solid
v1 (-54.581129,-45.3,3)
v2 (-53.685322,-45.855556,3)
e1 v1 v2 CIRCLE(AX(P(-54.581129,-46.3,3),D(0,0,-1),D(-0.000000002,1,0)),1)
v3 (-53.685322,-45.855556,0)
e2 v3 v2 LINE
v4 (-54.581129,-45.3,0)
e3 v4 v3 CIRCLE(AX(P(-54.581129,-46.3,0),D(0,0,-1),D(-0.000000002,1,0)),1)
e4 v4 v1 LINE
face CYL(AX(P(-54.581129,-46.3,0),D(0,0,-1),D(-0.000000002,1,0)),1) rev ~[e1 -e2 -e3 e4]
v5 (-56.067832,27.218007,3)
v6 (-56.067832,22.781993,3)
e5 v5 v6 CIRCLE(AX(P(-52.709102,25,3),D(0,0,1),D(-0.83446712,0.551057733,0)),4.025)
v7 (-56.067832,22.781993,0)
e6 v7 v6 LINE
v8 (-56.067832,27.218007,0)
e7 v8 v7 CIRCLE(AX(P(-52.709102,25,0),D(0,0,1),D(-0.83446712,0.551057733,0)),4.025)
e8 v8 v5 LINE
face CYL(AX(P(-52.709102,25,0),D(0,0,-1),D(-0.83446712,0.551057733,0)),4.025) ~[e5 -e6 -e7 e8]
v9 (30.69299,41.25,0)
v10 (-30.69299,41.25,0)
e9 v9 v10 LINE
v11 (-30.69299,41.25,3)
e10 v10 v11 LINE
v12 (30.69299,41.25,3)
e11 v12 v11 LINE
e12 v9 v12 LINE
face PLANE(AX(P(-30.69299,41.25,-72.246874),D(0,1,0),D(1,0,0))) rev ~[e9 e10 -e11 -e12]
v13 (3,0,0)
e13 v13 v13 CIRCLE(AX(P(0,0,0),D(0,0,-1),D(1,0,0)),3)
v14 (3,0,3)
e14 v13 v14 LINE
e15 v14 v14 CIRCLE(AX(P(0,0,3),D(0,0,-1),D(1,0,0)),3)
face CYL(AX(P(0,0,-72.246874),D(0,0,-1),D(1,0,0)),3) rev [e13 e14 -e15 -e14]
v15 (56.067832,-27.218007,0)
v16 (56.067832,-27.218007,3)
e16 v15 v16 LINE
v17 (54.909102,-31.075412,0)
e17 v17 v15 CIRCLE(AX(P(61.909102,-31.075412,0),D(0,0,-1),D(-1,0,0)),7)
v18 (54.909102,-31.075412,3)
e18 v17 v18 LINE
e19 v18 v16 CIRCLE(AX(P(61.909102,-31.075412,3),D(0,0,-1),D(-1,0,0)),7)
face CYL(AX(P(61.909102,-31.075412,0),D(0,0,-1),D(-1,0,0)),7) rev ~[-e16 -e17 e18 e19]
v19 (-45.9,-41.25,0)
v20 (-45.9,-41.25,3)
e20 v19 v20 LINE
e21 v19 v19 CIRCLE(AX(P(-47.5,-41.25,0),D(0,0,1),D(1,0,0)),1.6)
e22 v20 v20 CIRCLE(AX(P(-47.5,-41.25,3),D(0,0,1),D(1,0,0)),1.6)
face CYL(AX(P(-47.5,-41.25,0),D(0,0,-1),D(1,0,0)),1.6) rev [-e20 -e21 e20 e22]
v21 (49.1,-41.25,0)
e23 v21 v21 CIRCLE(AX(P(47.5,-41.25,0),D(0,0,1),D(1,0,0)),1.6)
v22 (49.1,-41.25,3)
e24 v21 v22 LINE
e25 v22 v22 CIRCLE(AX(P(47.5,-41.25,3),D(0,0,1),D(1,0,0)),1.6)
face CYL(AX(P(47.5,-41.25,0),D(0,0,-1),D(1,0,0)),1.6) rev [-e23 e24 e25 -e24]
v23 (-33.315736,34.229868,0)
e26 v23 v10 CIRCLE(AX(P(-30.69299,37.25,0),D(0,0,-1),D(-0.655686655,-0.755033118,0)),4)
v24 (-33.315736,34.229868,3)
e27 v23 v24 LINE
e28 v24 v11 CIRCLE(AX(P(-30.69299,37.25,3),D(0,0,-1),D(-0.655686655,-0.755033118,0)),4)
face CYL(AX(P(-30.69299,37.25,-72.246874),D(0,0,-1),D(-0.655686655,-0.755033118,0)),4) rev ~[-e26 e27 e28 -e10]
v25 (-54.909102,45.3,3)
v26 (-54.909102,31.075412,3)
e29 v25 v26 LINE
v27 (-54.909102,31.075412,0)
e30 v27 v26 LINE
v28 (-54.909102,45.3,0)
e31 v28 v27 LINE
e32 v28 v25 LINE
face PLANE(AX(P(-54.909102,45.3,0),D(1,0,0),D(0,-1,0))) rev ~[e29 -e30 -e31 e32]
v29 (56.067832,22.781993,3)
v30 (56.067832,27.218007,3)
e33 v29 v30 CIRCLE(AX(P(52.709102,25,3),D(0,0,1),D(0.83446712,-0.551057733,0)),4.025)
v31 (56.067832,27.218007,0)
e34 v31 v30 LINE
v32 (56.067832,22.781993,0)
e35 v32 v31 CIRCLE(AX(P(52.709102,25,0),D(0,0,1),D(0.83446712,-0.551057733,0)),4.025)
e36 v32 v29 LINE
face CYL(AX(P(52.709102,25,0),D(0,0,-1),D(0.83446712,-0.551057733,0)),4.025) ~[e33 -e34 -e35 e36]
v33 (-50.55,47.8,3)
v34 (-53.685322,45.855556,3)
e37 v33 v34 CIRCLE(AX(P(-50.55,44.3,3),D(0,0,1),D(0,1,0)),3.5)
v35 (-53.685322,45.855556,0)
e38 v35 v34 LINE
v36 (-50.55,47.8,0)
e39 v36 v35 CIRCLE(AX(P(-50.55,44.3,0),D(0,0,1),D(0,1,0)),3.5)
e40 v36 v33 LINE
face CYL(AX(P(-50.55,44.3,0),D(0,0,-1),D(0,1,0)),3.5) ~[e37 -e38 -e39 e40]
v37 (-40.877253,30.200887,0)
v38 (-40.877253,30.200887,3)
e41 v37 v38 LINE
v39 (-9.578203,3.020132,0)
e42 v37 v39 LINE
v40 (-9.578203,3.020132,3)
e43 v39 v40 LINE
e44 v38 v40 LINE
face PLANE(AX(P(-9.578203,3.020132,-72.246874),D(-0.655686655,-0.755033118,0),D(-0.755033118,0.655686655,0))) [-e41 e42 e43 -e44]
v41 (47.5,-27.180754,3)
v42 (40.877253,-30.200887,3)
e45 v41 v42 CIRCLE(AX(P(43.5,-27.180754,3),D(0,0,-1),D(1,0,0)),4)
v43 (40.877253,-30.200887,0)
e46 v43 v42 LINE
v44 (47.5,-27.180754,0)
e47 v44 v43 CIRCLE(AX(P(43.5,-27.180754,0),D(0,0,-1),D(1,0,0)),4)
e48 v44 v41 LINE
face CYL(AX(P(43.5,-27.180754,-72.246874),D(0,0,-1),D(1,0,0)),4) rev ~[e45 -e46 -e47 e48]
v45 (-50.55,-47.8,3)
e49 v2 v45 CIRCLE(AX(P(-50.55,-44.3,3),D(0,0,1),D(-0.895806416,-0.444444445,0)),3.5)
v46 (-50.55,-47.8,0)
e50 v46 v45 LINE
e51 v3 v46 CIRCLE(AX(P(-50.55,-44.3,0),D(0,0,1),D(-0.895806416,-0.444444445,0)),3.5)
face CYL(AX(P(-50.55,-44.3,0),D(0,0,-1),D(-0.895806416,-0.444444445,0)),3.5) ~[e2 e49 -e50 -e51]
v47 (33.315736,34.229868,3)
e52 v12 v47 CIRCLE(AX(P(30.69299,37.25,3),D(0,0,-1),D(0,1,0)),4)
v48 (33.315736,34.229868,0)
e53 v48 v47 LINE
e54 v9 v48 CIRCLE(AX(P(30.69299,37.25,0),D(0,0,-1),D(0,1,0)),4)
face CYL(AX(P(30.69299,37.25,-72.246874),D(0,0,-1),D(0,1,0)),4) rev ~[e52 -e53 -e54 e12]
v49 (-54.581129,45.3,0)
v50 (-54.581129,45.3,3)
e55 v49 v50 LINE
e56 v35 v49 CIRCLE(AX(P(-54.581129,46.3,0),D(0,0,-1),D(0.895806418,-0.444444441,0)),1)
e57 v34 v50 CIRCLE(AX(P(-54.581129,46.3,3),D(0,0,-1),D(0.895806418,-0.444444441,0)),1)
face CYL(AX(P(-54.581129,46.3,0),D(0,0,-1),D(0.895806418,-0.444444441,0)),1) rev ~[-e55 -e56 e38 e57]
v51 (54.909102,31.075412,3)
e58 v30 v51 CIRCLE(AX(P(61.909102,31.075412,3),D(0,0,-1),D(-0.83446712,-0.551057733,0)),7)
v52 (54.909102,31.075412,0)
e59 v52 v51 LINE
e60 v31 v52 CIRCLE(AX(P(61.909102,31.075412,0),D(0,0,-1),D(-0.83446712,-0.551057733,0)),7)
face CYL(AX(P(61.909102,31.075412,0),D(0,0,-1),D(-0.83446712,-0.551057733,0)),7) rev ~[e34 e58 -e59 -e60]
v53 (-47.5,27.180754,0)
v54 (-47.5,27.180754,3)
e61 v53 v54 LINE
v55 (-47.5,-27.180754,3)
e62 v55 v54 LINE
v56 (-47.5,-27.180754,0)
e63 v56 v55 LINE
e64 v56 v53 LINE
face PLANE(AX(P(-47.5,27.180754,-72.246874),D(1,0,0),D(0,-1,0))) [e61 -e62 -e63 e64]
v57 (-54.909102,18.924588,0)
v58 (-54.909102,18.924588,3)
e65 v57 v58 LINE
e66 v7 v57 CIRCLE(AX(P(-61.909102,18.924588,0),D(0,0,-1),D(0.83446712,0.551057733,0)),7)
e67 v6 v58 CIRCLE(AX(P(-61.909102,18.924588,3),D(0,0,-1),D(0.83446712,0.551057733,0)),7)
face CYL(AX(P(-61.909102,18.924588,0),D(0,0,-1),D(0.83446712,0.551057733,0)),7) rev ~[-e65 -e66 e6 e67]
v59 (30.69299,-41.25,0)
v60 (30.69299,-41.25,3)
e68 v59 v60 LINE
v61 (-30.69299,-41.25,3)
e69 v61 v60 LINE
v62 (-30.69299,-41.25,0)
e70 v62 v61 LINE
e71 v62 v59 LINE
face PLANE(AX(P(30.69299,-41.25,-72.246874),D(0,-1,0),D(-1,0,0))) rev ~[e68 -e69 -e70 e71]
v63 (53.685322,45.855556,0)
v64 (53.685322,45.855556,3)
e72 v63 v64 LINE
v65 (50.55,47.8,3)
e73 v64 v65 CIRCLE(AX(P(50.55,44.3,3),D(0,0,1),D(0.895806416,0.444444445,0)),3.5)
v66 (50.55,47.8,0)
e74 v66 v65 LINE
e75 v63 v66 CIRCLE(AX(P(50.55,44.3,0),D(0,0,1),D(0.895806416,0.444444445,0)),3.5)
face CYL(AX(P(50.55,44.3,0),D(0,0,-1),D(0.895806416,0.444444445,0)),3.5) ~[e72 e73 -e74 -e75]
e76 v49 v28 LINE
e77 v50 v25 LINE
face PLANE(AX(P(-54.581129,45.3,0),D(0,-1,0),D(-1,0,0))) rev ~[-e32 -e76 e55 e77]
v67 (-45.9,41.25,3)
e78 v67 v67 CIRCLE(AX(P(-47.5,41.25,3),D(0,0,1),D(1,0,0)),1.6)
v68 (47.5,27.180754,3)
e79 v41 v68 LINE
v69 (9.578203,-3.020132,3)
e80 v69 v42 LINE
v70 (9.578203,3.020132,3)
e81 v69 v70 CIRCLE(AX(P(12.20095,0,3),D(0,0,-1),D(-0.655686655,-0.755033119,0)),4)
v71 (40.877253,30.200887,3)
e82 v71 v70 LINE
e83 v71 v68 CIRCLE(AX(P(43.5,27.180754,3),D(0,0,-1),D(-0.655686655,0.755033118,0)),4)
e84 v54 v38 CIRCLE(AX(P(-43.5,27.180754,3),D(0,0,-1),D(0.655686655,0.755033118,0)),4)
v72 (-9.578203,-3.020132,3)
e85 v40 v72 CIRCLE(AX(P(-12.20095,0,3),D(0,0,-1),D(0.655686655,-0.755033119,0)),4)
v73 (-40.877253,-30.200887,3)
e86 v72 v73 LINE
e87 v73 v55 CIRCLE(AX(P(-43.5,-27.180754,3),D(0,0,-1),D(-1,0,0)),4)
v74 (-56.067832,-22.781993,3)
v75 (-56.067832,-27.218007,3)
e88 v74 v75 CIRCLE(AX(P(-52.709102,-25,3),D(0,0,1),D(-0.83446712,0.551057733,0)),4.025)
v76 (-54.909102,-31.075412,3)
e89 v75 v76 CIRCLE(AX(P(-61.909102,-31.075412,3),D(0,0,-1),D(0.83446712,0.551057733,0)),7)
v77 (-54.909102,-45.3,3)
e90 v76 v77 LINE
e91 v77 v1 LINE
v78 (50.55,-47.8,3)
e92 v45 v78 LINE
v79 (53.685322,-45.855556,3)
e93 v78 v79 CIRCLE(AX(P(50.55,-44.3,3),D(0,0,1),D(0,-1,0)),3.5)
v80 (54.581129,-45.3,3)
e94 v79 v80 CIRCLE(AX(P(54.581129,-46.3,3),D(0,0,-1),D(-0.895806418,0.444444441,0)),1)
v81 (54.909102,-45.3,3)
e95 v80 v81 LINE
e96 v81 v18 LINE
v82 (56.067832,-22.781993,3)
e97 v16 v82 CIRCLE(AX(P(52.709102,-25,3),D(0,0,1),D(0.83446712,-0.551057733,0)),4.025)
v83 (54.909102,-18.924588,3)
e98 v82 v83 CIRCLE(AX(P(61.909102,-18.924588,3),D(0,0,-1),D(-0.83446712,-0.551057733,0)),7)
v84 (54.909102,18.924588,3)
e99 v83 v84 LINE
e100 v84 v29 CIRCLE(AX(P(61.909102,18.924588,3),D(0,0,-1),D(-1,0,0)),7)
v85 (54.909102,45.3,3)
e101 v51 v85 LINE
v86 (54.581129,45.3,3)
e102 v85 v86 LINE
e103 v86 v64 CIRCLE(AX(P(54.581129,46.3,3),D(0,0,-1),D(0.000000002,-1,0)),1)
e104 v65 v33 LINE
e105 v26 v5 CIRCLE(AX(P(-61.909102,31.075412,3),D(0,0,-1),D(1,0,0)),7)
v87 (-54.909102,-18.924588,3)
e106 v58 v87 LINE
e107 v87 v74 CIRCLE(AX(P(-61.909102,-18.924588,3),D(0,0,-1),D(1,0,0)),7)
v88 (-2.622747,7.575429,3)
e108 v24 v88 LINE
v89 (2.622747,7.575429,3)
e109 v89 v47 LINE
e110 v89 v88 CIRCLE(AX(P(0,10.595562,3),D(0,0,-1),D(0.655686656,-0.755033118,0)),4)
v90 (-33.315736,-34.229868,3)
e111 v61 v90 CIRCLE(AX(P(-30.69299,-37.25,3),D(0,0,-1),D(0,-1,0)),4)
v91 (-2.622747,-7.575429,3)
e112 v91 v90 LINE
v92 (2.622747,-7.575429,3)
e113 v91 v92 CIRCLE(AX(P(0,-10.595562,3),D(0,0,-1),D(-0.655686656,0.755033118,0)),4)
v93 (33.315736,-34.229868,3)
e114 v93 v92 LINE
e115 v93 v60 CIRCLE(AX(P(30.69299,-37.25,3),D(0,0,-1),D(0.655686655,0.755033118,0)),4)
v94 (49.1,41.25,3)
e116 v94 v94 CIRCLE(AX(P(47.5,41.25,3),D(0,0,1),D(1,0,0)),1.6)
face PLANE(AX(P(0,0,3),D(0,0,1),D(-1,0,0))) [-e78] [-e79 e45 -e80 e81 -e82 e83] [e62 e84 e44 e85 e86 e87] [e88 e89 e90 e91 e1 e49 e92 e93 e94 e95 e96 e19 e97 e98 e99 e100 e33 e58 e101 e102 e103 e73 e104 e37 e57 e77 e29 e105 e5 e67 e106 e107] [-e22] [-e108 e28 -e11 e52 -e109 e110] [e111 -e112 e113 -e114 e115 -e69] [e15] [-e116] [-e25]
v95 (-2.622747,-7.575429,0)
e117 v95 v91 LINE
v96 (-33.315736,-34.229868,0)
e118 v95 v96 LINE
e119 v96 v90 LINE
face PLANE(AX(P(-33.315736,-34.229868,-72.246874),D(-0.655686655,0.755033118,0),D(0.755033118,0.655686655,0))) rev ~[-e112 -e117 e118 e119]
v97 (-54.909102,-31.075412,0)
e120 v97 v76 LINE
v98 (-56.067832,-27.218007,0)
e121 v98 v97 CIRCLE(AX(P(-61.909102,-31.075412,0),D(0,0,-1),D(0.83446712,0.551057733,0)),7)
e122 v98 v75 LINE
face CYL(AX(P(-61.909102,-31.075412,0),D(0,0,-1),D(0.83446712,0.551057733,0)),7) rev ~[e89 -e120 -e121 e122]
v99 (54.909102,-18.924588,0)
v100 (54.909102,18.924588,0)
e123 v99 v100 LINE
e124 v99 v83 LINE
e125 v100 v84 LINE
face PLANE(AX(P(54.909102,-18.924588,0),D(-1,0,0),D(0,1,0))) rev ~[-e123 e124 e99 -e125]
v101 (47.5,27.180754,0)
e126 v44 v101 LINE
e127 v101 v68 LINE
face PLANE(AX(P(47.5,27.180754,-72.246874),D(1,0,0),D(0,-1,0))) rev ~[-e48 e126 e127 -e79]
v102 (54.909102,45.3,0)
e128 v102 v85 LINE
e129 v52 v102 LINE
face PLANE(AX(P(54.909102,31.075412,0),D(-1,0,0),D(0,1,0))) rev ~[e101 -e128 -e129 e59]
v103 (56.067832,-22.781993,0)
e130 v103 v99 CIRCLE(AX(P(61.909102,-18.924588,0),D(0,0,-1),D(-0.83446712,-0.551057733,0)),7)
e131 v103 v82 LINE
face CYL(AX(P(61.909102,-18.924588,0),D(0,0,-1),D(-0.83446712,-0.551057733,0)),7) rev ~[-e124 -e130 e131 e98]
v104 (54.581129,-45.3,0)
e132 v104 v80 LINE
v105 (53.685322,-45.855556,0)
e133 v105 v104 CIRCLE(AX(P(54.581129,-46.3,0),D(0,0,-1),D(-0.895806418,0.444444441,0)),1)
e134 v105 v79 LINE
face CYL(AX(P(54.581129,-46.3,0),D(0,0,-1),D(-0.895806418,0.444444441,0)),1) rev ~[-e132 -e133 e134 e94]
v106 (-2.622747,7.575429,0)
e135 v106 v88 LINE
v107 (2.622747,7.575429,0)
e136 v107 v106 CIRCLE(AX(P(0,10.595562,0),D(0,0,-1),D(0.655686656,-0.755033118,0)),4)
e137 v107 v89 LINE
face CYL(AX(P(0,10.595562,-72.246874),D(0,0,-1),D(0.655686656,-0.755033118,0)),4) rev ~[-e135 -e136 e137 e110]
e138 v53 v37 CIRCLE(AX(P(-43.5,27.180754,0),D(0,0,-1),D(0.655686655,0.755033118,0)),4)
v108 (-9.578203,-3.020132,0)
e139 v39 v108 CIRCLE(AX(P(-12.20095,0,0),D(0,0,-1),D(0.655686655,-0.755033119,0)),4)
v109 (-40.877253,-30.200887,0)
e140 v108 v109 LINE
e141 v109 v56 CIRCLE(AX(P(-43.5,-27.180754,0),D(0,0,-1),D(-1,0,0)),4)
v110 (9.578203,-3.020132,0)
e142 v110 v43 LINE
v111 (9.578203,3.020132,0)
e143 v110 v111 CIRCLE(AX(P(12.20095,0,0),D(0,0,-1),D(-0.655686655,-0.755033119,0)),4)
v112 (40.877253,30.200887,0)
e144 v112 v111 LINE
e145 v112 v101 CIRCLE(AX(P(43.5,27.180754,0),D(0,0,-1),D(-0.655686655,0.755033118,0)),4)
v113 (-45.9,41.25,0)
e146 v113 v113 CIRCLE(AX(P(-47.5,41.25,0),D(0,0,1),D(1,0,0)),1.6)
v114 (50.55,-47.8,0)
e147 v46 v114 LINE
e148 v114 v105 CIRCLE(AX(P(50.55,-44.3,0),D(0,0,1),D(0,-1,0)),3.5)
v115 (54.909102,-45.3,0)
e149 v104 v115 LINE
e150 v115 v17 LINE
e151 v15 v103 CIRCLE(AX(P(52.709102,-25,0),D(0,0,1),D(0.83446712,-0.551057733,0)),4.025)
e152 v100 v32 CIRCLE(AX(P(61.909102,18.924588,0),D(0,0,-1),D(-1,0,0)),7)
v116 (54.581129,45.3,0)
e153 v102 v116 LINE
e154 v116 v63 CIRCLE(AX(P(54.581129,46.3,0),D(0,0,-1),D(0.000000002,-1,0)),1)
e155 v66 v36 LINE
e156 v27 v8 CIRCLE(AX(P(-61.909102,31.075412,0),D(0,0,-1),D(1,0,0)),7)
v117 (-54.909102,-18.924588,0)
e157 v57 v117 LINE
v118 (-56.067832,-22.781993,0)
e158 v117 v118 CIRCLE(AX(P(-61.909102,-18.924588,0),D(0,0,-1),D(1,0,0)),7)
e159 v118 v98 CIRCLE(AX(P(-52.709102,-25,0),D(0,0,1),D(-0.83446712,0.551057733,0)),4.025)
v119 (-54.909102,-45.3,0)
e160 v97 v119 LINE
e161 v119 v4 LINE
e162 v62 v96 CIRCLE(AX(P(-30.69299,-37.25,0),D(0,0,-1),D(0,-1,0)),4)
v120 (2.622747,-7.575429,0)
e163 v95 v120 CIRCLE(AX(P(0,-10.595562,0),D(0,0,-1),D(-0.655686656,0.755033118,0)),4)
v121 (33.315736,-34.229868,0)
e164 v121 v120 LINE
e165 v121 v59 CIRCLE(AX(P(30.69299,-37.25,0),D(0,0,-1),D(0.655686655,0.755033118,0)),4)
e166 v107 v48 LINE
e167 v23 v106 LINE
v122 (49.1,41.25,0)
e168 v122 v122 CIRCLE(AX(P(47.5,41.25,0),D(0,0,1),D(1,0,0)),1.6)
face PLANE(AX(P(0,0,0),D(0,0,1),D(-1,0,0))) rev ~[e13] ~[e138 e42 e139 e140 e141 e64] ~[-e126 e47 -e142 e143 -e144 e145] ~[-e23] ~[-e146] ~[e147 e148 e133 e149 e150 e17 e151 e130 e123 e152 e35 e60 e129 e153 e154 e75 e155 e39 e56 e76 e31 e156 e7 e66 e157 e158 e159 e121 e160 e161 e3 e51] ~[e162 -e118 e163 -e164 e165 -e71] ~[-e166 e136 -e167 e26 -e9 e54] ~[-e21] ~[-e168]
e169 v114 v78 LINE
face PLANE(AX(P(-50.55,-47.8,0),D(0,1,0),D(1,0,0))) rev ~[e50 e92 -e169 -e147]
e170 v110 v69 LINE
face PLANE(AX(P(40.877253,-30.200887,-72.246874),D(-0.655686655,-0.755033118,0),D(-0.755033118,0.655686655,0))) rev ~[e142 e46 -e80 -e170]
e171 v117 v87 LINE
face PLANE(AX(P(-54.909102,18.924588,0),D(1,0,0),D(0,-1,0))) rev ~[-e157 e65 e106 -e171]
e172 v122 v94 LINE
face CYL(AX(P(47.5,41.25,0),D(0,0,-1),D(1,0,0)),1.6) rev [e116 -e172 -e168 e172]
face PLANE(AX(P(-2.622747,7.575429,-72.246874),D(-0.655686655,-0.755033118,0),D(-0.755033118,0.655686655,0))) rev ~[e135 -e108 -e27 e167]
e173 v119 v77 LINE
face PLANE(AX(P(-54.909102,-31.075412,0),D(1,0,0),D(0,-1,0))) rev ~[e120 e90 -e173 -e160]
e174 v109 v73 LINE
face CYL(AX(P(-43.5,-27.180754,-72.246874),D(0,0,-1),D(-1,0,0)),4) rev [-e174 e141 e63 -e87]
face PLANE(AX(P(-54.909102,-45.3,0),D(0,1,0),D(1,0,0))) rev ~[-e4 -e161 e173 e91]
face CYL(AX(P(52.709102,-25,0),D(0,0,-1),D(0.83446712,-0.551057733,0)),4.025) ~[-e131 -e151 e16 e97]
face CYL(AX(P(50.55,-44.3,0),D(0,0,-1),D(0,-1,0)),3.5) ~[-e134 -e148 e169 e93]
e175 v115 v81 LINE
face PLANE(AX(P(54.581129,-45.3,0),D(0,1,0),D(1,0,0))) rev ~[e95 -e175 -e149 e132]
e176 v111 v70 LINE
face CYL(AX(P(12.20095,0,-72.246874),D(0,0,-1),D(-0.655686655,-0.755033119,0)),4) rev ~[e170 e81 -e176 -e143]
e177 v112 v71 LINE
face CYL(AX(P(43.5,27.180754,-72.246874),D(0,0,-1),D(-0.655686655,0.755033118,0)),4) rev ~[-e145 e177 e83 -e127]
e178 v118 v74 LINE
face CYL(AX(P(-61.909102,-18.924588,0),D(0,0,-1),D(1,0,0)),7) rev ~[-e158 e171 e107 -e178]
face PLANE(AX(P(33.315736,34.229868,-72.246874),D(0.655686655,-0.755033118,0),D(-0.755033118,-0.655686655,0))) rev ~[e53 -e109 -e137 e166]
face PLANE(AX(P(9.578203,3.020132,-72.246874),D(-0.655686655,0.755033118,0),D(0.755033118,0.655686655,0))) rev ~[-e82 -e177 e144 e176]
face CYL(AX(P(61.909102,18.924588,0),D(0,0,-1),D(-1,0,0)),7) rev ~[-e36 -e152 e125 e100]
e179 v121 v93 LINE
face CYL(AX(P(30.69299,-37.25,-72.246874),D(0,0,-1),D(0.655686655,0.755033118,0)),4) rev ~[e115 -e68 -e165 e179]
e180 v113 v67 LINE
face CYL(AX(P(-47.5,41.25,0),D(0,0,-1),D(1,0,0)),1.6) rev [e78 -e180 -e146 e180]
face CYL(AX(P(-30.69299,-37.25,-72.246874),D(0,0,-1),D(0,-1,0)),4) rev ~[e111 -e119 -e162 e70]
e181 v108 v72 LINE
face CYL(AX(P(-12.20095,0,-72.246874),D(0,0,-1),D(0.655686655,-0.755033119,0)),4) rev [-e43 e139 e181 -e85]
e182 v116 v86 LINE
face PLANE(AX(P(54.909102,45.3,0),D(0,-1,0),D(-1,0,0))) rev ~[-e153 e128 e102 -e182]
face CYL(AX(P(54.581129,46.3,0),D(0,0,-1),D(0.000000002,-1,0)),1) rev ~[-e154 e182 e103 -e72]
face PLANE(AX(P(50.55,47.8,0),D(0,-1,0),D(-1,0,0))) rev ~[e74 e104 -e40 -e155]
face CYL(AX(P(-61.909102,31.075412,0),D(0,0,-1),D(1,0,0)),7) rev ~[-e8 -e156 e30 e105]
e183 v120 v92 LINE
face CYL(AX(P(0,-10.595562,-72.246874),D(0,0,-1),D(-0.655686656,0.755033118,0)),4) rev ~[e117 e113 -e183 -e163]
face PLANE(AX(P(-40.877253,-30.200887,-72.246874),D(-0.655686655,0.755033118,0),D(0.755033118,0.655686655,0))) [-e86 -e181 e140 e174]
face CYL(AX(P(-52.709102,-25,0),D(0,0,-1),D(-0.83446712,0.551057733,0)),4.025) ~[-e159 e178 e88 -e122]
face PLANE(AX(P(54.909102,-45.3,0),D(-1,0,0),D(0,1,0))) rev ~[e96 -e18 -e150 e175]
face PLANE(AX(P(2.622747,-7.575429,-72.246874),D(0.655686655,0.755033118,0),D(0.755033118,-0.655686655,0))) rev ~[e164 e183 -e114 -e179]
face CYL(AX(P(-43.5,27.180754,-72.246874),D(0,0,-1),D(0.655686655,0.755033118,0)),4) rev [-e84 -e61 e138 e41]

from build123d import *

# Parameters (mm, degrees)
SKETCH1_R               = 1.6
BOSS_EXTRUDE1_DEPTH     = 3
CUT_EXTRUDE1_DEPTH      = 75.246874183
CUT_EXTRUDE1_DEPTH_BACK = 75.246874183
CUT_EXTRUDE2_DEPTH      = 75.246874183
CUT_EXTRUDE2_DEPTH_BACK = 75.246874183
SKETCH4_R               = 3


with BuildPart() as part:
    # Sketch1 → Boss-Extrude1 (new body)
    with BuildSketch(Plane(origin=(0, 0, 0), x_dir=(-1, 0, 0), z_dir=(0, 0, 1))):
        with BuildLine():
            Line((-54.909101966, 18.924588491), (-54.909101966, -18.924588491))
            ThreePointArc((-54.909101966, -18.924588491), (-55.205040179, -20.938429487), (-56.067832125, -22.781992624))
            ThreePointArc((-56.067832125, -22.781992624), (-56.734101966, -25), (-56.067832125, -27.218007376))
            ThreePointArc((-56.067832125, -27.218007376), (-55.205040179, -29.061570513), (-54.909101966, -31.075411509))
            Line((-54.909101966, -31.075411509), (-54.909101966, -45.3))
            Line((-54.909101966, -45.3), (-54.581128874, -45.3))
            ThreePointArc((-54.581128874, -45.3), (-54.054082597, -45.450163414), (-53.685322458, -45.855555556))
            ThreePointArc((-53.685322458, -45.855555556), (-52.394661968, -47.27442805), (-50.55, -47.8))
            Line((-50.55, -47.8), (50.55, -47.8))
            ThreePointArc((50.55, -47.8), (52.394661968, -47.27442805), (53.685322458, -45.855555556))
            ThreePointArc((53.685322458, -45.855555556), (54.054082597, -45.450163414), (54.581128874, -45.3))
            Line((54.581128874, -45.3), (54.909101966, -45.3))
            Line((54.909101966, -45.3), (54.909101966, -31.075411509))
            ThreePointArc((54.909101966, -31.075411509), (55.205040179, -29.061570513), (56.067832125, -27.218007376))
            ThreePointArc((56.067832125, -27.218007376), (56.734101966, -25), (56.067832125, -22.781992624))
            ThreePointArc((56.067832125, -22.781992624), (55.205040179, -20.938429487), (54.909101966, -18.924588491))
            Line((54.909101966, -18.924588491), (54.909101966, 18.924588491))
            ThreePointArc((54.909101966, 18.924588491), (55.205040179, 20.938429487), (56.067832125, 22.781992624))
            ThreePointArc((56.067832125, 22.781992624), (56.734101966, 25), (56.067832125, 27.218007376))
            ThreePointArc((56.067832125, 27.218007376), (55.205040179, 29.061570513), (54.909101966, 31.075411509))
            Line((54.909101966, 31.075411509), (54.909101966, 45.3))
            Line((54.909101966, 45.3), (54.581128874, 45.3))
            ThreePointArc((54.581128874, 45.3), (54.054082597, 45.450163414), (53.685322458, 45.855555556))
            ThreePointArc((53.685322458, 45.855555556), (52.394661968, 47.27442805), (50.55, 47.8))
            Line((50.55, 47.8), (-50.55, 47.8))
            ThreePointArc((-50.55, 47.8), (-52.394661968, 47.27442805), (-53.685322458, 45.855555556))
            ThreePointArc((-53.685322458, 45.855555556), (-54.054082597, 45.450163414), (-54.581128874, 45.3))
            Line((-54.581128874, 45.3), (-54.909101966, 45.3))
            Line((-54.909101966, 45.3), (-54.909101966, 31.075411509))
            ThreePointArc((-54.909101966, 31.075411509), (-55.205040179, 29.061570513), (-56.067832125, 27.218007376))
            ThreePointArc((-56.067832125, 27.218007376), (-56.734101966, 25), (-56.067832125, 22.781992624))
            ThreePointArc((-56.067832125, 22.781992624), (-55.205040179, 20.938429487), (-54.909101966, 18.924588491))
        make_face()
        with Locations(Location((-47.5, 41.25, 0), (0, 0, 180))):
            Circle(SKETCH1_R, mode=Mode.SUBTRACT)
        with Locations(Location((-47.5, -41.25, 0), (0, 0, 180))):
            Circle(SKETCH1_R, mode=Mode.SUBTRACT)
        with Locations(Location((47.5, -41.25, 0), (0, 0, 180))):
            Circle(SKETCH1_R, mode=Mode.SUBTRACT)
        with Locations(Location((47.5, 41.25, 0), (0, 0, 180))):
            Circle(SKETCH1_R, mode=Mode.SUBTRACT)
    extrude(amount=BOSS_EXTRUDE1_DEPTH)

    # Sketch2 → Cut-Extrude1 (cut, two sides: drawn at the far end of the back side and taken through both)
    with BuildSketch(Plane.XY.offset(3).offset(-CUT_EXTRUDE1_DEPTH_BACK)):
        with BuildLine():
            Line((40.877253378, -30.200886552), (9.578203228, -3.020132474))
            ThreePointArc((9.578203228, -3.020132474), (8.200949849, 0), (9.578203228, 3.020132474))
            Line((9.578203228, 3.020132474), (40.877253378, 30.200886552))
            ThreePointArc((40.877253378, 30.200886552), (45.159670677, 30.82018992), (47.5, 27.180754078))
            Line((47.5, 27.180754078), (47.5, -27.180754078))
            ThreePointArc((47.5, -27.180754078), (45.159670677, -30.82018992), (40.877253378, -30.200886552))
        make_face()
        with BuildLine():
            Line((-33.315736166, -34.229867526), (-2.622746622, -7.575429238))
            ThreePointArc((-2.622746622, -7.575429238), (0, -6.595561711), (2.622746622, -7.575429238))
            Line((2.622746622, -7.575429238), (33.315736166, -34.229867526))
            ThreePointArc((33.315736166, -34.229867526), (34.440023698, -38.649905373), (30.692989545, -41.25))
            Line((30.692989545, -41.25), (-30.692989545, -41.25))
            ThreePointArc((-30.692989545, -41.25), (-34.440023698, -38.649905373), (-33.315736166, -34.229867526))
        make_face()
        with BuildLine():
            Line((-40.877253378, -30.200886552), (-9.578203228, -3.020132474))
            ThreePointArc((-9.578203228, -3.020132474), (-8.200949849, 0), (-9.578203228, 3.020132474))
            Line((-9.578203228, 3.020132474), (-40.877253378, 30.200886552))
            ThreePointArc((-40.877253378, 30.200886552), (-45.159670677, 30.82018992), (-47.5, 27.180754078))
            Line((-47.5, 27.180754078), (-47.5, -27.180754078))
            ThreePointArc((-47.5, -27.180754078), (-45.159670677, -30.82018992), (-40.877253378, -30.200886552))
        make_face()
        with BuildLine():
            Line((-30.692989545, 41.25), (30.692989545, 41.25))
            ThreePointArc((30.692989545, 41.25), (34.440023698, 38.649905373), (33.315736166, 34.229867526))
            Line((33.315736166, 34.229867526), (2.622746622, 7.575429238))
            ThreePointArc((2.622746622, 7.575429238), (0, 6.595561711), (-2.622746622, 7.575429238))
            Line((-2.622746622, 7.575429238), (-33.315736166, 34.229867526))
            ThreePointArc((-33.315736166, 34.229867526), (-34.440023698, 38.649905373), (-30.692989545, 41.25))
        make_face()
    extrude(amount=CUT_EXTRUDE1_DEPTH + CUT_EXTRUDE1_DEPTH_BACK, mode=Mode.SUBTRACT)

    # Sketch4 → Cut-Extrude2 (cut, two sides: drawn at the far end of the back side and taken through both)
    with BuildSketch(Plane.XY.offset(3).offset(-CUT_EXTRUDE2_DEPTH_BACK)):
        Circle(SKETCH4_R)
    extrude(amount=CUT_EXTRUDE2_DEPTH + CUT_EXTRUDE2_DEPTH_BACK, mode=Mode.SUBTRACT)


solid = part.part
